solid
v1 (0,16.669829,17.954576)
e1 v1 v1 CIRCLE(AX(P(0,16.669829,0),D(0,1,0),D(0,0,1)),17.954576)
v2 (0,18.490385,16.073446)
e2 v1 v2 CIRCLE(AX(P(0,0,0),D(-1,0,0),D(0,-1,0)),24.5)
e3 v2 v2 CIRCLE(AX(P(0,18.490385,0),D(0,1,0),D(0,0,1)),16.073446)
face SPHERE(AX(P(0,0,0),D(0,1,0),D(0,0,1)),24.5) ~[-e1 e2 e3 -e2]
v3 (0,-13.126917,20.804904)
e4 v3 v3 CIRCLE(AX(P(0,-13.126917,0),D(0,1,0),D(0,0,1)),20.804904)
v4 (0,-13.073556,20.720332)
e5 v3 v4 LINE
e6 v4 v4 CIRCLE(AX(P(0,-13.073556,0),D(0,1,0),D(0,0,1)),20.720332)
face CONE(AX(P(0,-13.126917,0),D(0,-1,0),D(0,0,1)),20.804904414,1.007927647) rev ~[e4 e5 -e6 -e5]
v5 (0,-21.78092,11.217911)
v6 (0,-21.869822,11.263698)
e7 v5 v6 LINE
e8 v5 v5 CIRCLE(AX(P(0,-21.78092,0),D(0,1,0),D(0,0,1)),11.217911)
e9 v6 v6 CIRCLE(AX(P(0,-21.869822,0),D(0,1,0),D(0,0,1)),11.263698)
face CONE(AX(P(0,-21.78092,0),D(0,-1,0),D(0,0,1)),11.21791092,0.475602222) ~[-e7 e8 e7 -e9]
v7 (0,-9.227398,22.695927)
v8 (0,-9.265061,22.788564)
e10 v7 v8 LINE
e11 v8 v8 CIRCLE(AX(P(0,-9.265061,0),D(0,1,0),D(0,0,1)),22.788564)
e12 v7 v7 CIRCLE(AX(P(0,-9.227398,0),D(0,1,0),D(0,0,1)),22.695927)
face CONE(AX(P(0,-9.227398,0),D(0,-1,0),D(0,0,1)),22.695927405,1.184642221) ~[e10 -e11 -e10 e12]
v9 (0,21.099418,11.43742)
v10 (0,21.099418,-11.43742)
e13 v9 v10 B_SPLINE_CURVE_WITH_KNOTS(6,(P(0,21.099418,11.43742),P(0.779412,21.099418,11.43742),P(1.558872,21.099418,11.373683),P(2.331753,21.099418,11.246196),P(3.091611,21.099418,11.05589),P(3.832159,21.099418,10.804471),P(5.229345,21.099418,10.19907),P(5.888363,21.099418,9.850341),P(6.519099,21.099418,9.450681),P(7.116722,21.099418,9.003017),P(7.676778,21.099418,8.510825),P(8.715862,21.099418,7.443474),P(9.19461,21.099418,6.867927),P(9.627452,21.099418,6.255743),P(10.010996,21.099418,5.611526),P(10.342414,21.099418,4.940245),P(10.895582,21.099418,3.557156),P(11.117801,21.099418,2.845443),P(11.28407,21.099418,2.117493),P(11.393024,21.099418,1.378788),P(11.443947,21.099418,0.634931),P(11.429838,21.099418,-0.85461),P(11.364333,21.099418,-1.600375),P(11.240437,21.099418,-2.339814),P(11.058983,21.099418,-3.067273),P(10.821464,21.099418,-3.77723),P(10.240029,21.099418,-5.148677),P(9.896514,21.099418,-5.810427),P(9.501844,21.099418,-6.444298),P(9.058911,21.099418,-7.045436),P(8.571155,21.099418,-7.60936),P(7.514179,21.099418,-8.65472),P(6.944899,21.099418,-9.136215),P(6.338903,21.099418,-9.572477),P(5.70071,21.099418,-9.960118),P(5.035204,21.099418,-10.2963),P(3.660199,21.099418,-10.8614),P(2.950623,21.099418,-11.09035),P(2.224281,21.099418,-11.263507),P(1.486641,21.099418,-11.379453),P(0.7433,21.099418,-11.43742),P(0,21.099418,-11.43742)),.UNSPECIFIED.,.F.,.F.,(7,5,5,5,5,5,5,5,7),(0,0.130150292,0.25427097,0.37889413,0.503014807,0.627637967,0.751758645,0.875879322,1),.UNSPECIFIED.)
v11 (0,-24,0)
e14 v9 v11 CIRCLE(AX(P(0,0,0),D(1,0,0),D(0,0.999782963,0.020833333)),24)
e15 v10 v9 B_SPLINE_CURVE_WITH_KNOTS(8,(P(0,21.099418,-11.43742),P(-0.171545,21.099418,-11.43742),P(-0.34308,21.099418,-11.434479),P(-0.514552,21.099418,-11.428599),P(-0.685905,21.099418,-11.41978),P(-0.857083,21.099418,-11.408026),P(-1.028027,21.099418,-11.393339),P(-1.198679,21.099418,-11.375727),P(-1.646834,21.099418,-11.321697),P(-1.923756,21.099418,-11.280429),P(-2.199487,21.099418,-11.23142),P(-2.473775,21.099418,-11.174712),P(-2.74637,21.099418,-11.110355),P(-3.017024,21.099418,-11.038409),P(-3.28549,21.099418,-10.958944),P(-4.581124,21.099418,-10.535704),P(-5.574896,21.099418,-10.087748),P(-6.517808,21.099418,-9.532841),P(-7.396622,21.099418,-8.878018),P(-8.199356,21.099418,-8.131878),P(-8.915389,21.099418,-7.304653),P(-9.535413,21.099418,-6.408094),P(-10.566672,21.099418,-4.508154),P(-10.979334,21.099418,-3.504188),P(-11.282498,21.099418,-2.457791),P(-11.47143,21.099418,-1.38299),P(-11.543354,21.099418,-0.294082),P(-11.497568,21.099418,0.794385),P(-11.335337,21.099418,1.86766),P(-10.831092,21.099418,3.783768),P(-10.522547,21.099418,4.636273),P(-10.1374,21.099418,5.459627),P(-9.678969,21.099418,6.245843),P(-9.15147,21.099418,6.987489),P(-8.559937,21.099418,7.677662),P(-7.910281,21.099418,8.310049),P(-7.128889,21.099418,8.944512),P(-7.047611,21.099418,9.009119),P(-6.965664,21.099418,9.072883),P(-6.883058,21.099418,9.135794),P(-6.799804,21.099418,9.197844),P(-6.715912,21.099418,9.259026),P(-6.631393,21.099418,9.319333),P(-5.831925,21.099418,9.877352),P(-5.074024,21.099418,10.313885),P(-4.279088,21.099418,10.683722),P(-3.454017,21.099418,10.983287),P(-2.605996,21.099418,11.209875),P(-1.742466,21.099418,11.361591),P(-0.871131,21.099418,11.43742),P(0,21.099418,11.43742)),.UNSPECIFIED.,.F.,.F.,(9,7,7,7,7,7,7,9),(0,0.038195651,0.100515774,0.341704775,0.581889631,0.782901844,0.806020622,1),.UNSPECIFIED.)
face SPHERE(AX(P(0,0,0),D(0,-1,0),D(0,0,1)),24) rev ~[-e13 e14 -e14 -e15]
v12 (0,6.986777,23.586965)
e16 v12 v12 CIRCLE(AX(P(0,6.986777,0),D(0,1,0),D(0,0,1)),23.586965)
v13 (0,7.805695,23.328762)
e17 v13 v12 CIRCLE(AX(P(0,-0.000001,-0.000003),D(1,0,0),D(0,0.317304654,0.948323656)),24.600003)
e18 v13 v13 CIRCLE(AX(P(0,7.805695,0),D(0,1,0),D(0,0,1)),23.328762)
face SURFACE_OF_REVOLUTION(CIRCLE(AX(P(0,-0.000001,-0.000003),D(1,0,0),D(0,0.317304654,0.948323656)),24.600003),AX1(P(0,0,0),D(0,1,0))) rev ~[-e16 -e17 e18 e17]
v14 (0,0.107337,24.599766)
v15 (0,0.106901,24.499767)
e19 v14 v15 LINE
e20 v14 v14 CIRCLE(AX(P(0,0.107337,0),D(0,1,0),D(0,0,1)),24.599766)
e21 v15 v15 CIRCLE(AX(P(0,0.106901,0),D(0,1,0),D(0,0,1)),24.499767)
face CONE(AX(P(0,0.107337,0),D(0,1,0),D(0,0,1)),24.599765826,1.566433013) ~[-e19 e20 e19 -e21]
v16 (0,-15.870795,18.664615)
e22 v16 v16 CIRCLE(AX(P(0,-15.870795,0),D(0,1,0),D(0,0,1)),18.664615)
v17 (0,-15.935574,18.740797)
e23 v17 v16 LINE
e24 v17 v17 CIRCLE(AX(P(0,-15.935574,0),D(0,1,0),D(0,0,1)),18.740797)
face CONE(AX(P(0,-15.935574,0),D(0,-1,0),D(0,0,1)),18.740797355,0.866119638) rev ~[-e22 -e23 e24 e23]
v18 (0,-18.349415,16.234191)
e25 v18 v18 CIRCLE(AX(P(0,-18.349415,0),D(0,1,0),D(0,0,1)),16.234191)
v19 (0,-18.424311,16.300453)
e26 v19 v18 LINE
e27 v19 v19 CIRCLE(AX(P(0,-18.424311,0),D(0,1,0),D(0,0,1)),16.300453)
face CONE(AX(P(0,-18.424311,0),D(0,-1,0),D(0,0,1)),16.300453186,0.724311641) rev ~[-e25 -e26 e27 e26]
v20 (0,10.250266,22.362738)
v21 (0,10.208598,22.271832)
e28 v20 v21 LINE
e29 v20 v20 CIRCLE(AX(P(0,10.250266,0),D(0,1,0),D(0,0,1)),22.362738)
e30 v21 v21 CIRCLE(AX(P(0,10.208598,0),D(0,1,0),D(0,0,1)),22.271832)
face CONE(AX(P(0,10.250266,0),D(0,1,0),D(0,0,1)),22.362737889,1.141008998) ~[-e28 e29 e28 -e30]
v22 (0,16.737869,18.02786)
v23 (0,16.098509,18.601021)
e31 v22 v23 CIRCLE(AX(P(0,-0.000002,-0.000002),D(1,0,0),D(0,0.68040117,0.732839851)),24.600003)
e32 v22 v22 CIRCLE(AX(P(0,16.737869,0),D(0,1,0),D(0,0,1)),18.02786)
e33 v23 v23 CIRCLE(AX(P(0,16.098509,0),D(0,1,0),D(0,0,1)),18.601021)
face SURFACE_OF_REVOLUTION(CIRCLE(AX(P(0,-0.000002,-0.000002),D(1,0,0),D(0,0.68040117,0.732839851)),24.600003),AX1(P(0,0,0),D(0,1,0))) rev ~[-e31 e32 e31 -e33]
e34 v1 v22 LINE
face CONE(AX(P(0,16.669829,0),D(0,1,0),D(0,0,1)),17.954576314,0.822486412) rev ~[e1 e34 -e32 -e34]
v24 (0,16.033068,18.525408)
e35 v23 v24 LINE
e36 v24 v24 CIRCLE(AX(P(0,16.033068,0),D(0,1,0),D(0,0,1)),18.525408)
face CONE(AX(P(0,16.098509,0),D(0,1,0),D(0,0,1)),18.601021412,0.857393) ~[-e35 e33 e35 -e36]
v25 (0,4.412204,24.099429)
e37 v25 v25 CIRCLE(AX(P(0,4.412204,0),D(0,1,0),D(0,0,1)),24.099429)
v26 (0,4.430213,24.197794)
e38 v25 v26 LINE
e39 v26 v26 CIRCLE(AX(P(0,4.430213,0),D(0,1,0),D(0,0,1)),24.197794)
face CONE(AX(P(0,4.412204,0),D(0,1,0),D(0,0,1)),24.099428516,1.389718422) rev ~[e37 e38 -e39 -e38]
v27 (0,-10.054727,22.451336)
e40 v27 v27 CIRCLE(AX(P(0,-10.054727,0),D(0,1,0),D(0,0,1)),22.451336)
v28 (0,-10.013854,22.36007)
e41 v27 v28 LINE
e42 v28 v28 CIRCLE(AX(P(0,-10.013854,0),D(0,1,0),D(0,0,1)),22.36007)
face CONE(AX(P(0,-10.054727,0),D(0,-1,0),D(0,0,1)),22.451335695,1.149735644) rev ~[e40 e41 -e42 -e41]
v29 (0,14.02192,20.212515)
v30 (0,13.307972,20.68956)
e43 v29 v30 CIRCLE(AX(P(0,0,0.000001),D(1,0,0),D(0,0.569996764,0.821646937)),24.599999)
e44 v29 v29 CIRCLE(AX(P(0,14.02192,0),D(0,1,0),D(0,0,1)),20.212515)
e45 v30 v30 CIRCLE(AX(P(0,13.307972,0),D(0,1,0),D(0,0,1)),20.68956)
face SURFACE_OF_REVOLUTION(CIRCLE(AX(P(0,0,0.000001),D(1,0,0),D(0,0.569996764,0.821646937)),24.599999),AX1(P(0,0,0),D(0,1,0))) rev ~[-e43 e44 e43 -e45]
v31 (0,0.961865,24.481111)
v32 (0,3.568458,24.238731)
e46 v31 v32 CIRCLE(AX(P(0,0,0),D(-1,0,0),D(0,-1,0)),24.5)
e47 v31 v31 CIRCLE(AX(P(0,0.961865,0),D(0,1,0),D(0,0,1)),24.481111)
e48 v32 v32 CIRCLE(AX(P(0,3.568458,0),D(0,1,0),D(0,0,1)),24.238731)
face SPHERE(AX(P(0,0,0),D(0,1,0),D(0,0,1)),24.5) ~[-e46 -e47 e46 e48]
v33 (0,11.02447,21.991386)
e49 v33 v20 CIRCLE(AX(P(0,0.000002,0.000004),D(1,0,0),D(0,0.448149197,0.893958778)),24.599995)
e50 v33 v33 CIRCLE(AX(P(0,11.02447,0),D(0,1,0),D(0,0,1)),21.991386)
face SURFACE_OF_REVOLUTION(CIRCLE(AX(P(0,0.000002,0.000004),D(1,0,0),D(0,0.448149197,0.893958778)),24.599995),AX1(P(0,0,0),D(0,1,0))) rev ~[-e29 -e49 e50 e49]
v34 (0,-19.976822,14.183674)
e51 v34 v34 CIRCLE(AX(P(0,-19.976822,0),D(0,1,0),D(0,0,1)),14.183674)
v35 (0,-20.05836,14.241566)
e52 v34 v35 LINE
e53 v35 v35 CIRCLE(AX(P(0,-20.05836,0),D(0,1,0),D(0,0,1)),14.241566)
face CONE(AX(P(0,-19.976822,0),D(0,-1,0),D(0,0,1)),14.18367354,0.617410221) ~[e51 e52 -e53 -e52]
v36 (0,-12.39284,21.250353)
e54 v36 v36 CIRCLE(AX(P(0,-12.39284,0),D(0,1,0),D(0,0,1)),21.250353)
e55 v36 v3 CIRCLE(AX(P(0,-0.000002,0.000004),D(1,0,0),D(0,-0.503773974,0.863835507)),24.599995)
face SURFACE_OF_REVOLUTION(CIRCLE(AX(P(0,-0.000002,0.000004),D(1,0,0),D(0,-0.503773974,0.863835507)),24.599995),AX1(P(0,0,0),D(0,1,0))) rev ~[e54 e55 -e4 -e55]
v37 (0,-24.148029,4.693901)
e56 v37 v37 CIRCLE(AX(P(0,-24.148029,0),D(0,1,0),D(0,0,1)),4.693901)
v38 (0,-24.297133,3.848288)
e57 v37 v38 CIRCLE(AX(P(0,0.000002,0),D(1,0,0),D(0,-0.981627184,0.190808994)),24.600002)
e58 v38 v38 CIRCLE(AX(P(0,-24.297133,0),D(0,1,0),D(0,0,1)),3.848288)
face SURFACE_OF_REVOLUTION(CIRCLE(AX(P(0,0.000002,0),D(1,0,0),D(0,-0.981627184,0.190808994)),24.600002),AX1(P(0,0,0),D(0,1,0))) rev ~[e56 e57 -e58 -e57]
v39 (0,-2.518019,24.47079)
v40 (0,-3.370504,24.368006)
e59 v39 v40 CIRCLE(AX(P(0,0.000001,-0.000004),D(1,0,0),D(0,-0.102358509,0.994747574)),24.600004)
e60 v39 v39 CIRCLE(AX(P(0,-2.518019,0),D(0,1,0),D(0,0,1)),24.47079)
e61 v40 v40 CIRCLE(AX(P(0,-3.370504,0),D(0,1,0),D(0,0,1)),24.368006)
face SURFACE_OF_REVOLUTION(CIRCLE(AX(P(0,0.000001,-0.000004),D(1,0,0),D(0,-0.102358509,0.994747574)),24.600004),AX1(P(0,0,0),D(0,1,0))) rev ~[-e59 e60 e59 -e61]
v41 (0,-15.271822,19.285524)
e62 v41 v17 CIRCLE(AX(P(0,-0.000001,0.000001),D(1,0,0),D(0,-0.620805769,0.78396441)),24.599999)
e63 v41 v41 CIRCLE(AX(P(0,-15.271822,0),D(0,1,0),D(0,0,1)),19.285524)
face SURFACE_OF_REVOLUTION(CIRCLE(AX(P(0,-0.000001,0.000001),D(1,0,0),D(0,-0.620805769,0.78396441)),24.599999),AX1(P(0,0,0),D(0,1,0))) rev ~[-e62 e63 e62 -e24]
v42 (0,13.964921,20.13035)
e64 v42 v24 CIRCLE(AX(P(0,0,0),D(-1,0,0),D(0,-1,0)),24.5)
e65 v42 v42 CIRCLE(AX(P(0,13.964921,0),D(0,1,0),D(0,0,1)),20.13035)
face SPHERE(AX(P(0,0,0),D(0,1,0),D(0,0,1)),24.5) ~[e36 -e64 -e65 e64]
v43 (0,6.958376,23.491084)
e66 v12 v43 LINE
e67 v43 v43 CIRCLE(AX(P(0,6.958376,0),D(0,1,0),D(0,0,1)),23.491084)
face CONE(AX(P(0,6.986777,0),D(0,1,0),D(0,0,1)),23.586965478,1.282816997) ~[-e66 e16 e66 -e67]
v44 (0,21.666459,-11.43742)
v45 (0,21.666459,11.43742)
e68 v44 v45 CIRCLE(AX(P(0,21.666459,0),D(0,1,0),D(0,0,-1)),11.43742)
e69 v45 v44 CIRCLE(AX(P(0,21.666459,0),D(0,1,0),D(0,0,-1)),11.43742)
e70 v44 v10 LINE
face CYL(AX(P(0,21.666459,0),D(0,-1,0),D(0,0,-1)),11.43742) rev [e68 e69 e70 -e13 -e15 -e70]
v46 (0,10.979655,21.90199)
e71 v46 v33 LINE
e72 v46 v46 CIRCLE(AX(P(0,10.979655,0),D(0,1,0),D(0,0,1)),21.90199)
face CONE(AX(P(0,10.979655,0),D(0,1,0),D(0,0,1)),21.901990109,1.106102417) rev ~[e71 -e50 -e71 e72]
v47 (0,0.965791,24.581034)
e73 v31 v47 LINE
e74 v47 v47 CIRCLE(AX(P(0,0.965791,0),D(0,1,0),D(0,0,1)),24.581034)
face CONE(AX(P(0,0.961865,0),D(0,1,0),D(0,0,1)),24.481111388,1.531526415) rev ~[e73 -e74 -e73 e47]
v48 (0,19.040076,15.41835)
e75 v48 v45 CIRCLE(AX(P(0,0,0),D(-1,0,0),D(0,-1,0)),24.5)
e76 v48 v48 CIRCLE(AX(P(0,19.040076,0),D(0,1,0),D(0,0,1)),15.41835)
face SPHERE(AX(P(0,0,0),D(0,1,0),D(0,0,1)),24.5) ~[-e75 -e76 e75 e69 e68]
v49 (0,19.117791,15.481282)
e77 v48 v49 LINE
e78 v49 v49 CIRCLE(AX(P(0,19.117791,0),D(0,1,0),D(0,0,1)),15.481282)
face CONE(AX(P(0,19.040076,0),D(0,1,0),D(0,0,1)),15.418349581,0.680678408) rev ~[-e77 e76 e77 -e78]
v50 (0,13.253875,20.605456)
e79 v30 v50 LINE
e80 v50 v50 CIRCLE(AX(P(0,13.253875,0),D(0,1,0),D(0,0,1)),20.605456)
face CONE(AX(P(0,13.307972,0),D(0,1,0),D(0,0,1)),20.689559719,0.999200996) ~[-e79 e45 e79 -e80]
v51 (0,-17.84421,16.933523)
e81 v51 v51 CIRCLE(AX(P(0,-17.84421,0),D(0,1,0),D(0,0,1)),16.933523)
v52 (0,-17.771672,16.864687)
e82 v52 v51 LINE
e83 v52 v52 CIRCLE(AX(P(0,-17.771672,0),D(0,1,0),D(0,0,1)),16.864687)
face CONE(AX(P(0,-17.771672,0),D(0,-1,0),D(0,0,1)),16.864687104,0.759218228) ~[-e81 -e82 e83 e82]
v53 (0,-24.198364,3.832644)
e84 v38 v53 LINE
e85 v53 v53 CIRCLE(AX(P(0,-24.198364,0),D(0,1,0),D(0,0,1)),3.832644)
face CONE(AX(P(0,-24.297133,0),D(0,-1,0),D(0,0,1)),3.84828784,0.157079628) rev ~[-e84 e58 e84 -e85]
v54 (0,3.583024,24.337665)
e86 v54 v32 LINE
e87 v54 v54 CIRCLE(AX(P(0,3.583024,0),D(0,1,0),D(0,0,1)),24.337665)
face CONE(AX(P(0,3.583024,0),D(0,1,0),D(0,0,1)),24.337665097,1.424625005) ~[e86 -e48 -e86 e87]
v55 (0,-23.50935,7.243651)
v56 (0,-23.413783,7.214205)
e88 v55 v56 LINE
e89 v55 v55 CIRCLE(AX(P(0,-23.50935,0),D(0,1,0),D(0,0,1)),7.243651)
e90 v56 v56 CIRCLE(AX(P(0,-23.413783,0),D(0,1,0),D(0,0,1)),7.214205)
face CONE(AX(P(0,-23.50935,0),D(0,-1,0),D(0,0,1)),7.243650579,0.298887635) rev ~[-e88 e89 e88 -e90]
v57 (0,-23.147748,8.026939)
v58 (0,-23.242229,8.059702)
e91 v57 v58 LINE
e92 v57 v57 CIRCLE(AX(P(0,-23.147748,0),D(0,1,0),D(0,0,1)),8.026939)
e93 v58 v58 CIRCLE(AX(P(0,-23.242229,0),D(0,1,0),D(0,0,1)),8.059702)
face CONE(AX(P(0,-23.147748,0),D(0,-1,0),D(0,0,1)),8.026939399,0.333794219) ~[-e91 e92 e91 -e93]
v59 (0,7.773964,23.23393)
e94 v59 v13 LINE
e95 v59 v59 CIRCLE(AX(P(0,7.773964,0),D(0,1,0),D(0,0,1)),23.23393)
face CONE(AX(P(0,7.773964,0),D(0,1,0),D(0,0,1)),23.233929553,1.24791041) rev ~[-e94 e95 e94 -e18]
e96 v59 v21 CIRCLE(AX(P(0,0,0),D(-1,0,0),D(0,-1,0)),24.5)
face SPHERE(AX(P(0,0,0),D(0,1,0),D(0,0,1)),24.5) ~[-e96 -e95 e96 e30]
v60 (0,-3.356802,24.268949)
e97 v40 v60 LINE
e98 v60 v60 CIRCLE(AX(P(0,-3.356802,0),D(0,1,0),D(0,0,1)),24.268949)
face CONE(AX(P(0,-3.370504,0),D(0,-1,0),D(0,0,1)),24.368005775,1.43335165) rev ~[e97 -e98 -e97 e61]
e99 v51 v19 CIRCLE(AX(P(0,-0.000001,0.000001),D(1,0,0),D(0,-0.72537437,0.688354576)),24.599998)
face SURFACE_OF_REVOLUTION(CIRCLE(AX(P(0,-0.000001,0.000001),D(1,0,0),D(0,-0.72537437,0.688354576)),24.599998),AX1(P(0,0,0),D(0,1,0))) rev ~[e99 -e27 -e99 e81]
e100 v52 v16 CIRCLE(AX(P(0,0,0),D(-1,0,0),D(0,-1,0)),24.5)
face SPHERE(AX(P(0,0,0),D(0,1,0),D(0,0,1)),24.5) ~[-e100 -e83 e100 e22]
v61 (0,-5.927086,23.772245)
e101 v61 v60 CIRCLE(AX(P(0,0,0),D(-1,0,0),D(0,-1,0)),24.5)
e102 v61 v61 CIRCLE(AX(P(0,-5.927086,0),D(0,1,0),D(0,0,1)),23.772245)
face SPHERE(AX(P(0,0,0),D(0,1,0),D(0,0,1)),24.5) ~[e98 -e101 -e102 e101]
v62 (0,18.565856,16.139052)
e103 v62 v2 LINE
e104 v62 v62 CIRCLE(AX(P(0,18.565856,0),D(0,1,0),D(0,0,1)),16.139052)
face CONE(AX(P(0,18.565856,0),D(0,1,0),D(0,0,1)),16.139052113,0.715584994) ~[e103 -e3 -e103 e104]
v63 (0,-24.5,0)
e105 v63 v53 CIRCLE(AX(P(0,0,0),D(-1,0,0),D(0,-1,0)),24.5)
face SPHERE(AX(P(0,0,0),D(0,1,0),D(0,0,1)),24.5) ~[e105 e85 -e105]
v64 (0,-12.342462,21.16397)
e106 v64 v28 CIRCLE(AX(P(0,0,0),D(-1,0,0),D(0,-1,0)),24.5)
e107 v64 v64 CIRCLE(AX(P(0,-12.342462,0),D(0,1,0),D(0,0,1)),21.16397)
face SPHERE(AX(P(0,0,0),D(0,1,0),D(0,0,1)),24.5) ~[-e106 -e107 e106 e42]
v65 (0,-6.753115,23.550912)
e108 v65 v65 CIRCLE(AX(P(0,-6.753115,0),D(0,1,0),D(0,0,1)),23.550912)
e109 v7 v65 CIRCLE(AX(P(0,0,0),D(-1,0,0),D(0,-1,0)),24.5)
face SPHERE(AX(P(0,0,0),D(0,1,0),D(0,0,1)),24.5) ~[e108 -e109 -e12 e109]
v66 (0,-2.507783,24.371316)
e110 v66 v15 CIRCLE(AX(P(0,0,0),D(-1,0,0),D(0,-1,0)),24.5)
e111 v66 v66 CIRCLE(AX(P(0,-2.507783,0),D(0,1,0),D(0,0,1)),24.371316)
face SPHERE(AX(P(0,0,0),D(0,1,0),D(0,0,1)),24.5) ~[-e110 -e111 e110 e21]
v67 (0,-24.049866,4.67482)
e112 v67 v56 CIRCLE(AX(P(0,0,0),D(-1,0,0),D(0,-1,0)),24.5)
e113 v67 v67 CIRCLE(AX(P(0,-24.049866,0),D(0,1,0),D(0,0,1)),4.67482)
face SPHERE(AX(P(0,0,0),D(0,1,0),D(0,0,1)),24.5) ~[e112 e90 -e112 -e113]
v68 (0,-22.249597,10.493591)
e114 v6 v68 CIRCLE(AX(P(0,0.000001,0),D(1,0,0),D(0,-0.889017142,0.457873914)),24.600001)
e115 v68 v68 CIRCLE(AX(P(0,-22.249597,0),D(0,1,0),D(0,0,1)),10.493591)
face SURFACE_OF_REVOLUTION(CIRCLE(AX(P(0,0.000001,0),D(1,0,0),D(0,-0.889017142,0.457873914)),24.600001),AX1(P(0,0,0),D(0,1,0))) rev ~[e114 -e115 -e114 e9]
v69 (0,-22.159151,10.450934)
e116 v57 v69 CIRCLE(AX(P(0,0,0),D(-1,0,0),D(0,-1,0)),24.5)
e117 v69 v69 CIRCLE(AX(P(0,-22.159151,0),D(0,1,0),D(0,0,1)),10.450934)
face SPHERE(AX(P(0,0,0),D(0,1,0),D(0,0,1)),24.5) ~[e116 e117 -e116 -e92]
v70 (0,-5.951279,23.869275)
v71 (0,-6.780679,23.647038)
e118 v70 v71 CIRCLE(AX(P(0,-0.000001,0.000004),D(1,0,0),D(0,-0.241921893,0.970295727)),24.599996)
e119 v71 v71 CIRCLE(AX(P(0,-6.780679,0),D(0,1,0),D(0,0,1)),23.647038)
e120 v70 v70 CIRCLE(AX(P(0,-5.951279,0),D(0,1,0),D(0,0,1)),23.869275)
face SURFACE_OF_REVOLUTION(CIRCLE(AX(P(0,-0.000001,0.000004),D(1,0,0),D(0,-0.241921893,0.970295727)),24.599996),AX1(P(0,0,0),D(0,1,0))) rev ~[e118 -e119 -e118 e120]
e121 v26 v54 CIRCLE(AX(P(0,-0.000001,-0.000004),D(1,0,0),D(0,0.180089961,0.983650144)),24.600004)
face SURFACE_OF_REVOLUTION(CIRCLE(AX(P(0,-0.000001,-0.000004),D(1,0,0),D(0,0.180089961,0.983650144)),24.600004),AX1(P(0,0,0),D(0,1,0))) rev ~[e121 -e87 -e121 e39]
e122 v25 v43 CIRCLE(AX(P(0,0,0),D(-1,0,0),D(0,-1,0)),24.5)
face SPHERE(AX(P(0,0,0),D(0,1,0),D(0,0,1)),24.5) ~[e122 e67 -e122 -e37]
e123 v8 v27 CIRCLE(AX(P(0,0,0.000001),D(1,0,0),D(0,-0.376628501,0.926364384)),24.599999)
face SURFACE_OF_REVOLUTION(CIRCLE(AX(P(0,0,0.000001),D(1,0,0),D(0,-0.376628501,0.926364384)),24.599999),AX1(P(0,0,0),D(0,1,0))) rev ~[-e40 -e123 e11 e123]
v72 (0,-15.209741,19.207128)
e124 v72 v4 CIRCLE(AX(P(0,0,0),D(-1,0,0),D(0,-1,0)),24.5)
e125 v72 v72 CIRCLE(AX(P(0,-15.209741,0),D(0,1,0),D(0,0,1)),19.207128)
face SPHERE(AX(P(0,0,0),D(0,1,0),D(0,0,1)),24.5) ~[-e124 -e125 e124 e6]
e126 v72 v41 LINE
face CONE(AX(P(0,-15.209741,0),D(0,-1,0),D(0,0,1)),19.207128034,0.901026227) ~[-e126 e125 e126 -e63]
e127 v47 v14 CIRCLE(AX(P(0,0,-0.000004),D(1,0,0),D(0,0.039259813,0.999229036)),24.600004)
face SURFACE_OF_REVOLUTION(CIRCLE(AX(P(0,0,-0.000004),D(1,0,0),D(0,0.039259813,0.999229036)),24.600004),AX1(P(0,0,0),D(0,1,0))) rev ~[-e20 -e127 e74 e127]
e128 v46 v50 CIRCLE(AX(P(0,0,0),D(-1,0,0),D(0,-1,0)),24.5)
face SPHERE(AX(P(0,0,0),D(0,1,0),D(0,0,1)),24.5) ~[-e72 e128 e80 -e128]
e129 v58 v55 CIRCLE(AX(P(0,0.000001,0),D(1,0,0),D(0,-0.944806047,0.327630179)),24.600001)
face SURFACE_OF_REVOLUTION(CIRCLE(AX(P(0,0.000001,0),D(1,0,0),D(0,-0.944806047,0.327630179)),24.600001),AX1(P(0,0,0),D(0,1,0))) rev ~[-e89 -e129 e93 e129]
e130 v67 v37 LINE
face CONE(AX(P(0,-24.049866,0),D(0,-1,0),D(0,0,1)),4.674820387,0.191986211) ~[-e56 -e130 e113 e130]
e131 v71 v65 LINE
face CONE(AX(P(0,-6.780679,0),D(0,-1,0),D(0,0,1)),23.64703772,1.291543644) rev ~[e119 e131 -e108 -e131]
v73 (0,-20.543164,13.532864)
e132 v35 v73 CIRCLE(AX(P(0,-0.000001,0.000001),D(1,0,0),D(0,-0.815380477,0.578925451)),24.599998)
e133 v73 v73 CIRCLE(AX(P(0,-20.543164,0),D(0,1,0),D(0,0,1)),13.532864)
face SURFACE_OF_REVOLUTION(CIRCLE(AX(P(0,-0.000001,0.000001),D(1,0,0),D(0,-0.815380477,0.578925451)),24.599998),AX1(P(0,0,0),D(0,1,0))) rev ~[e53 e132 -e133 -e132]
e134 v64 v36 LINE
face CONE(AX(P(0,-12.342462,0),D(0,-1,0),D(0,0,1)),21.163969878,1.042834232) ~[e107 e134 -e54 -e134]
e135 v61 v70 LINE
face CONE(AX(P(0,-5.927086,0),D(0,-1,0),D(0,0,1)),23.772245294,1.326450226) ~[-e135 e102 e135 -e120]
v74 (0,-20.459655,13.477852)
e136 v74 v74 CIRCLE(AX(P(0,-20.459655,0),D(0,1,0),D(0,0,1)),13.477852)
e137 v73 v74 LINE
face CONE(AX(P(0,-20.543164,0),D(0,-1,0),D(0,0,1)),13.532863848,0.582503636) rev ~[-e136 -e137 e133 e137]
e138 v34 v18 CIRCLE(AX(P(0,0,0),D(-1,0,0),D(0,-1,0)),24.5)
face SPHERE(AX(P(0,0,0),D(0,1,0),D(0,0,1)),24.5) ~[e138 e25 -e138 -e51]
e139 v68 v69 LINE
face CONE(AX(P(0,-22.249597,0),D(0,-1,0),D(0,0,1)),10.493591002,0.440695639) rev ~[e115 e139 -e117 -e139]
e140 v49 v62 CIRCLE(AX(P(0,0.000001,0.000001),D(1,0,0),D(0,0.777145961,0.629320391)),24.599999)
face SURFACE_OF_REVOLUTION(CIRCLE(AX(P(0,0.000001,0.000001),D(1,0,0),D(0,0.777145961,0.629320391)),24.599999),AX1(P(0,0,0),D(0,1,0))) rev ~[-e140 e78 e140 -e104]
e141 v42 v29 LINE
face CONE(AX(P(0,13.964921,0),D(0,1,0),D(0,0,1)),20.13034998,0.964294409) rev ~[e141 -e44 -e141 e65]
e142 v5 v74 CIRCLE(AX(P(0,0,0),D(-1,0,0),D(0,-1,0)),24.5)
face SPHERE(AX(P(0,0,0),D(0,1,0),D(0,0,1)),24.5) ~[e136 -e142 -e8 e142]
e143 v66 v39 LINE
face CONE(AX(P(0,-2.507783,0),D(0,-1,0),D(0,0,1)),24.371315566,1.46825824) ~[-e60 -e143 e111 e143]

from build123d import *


with BuildPart() as part:
    # Croquis1 → Revolución1 (revolve)
    with BuildSketch(Plane(origin=(0, 0, 0), x_dir=(0, 0, -1), z_dir=(1, 0, 0))):
        with BuildLine():
            Line((-0.5, 24.494897428), (-0.5, 23.994791101))
            ThreePointArc((-0.5, 23.994791101), (-23.99869774, -0.250013566), (0, -24))
            Line((0, -24), (0, -24.5))
            ThreePointArc((0, -24.5), (-24.498724324, -0.250013018), (-0.5, 24.494897428))
        make_face()
    revolve(axis=Axis((0, 20.75, 0), (0, -1, 0)))

    # Croquis2 → Cortar-Revolución1 (revolve, cut)
    with BuildSketch(Plane(origin=(0, 0, 0), x_dir=(0, 0, -1), z_dir=(1, 0, 0))):
        with BuildLine():
            Line((0, 13.612081927), (0, 24.5))
            ThreePointArc((0, 24.5), (5.891594158, 23.781066382), (11.437419735, 21.666458635))
            Line((11.437419735, 21.666458635), (11.437419735, 13.612081927))
            Line((11.437419735, 13.612081927), (0, 13.612081927))
        make_face()
    revolve(axis=Axis((0, 0, 0), (0, 1, 0)), mode=Mode.SUBTRACT)

    # Croquis3 → Revolución2 (revolve)
    with BuildSketch(Plane(origin=(0, 0, 0), x_dir=(0, 0, -1), z_dir=(1, 0, 0))):
        with BuildLine():
            Line((-15.418349581, 19.040076056), (-15.48128162, 19.117790652))
            ThreePointArc((-15.48128162, 19.117790652), (-15.812575198, 18.844693301), (-16.139052113, 18.565855673))
            Line((-16.139052113, 18.565855673), (-16.07344621, 18.490384715))
            ThreePointArc((-16.07344621, 18.490384715), (-15.748296437, 18.768088856), (-15.418349581, 19.040076056))
        make_face()
        with BuildLine():
            Line((-17.954576314, 16.669828715), (-18.027860299, 16.737868832))
            ThreePointArc((-18.027860299, 16.737868832), (-18.317230658, 16.420690028), (-18.601021412, 16.098509323))
            Line((-18.601021412, 16.098509323), (-18.525407504, 16.033068229))
            ThreePointArc((-18.525407504, 16.033068229), (-18.242770371, 16.353939256), (-17.954576314, 16.669828715))
        make_face()
        with BuildLine():
            Line((-20.13034998, 13.964920684), (-20.212514673, 14.02192036))
            ThreePointArc((-20.212514673, 14.02192036), (-20.454152463, 13.667027732), (-20.689559719, 13.307971996))
            Line((-20.689559719, 13.307971996), (-20.605455818, 13.253874549))
            ThreePointArc((-20.605455818, 13.253874549), (-20.371005501, 13.611470709), (-20.13034998, 13.964920684))
        make_face()
        with BuildLine():
            Line((-21.901990109, 10.979655243), (-21.991385987, 11.024470162))
            ThreePointArc((-21.991385987, 11.024470162), (-22.180440127, 10.638988476), (-22.362737889, 10.25026605))
            Line((-22.362737889, 10.25026605), (-22.271832451, 10.208598302))
            ThreePointArc((-22.271832451, 10.208598302), (-22.090275736, 10.595740555), (-21.901990109, 10.979655243))
        make_face()
        with BuildLine():
            Line((-23.233929553, 7.773964082), (-23.328761918, 7.805694548))
            ThreePointArc((-23.328761918, 7.805694548), (-23.461436988, 7.397362668), (-23.586965478, 6.98677748))
            Line((-23.586965478, 6.98677748), (-23.491083504, 6.958375945))
            ThreePointArc((-23.491083504, 6.958375945), (-23.366065293, 7.367292088), (-23.233929553, 7.773964082))
        make_face()
        with BuildLine():
            Line((-24.099428516, 4.41220412), (-24.197793531, 4.430213116))
            ThreePointArc((-24.197793531, 4.430213116), (-24.271425969, 4.007228646), (-24.337665097, 3.583023534))
            Line((-24.337665097, 3.583023534), (-24.238731499, 3.568458398))
            ThreePointArc((-24.238731499, 3.568458398), (-24.172761636, 3.990939098), (-24.099428516, 4.41220412))
        make_face()
        with BuildLine():
            Line((-24.481111388, 0.961865486), (-24.581034292, 0.965791468))
            ThreePointArc((-24.581034292, 0.965791468), (-24.594145866, 0.536646172), (-24.599765826, 0.107337408))
            Line((-24.599765826, 0.107337408), (-24.499766778, 0.106901078))
            ThreePointArc((-24.499766778, 0.106901078), (-24.494169663, 0.534464683), (-24.481111388, 0.961865486))
        make_face()
        with BuildLine():
            Line((-24.371315566, -2.507783398), (-24.470790324, -2.518019248))
            ThreePointArc((-24.470790324, -2.518019248), (-24.423117808, -2.94470992), (-24.368005775, -3.370503605))
            Line((-24.368005775, -3.370503605), (-24.268948841, -3.356802371))
            ThreePointArc((-24.268948841, -3.356802371), (-24.323836842, -2.932739555), (-24.371315566, -2.507783398))
        make_face()
        with BuildLine():
            Line((-23.772245294, -5.927086442), (-23.869274866, -5.951278632))
            ThreePointArc((-23.869274866, -5.951278632), (-23.761775327, -6.36694851), (-23.64703772, -6.780678953))
            Line((-23.64703772, -6.780678953), (-23.55091155, -6.753115217))
            ThreePointArc((-23.55091155, -6.753115217), (-23.665182744, -6.341066605), (-23.772245294, -5.927086442))
        make_face()
        with BuildLine():
            Line((-22.695927405, -9.227398291), (-22.788563843, -9.265061142))
            ThreePointArc((-22.788563843, -9.265061142), (-22.623395422, -9.661365306), (-22.451335695, -10.054726525))
            Line((-22.451335695, -10.054726525), (-22.360070103, -10.013853653))
            ThreePointArc((-22.360070103, -10.013853653), (-22.5314304, -9.622091464), (-22.695927405, -9.227398291))
        make_face()
        with BuildLine():
            Line((-21.163969878, -12.342462438), (-21.250353428, -12.392839835))
            ThreePointArc((-21.250353428, -12.392839835), (-21.030832019, -12.761822151), (-20.804904414, -13.126917091))
            Line((-20.804904414, -13.126917091), (-20.720331632, -13.07355564))
            ThreePointArc((-20.720331632, -13.07355564), (-20.945340831, -12.709944825), (-21.163969878, -12.342462438))
        make_face()
        with BuildLine():
            Line((-19.207128034, -15.209741374), (-19.285524475, -15.271821951))
            ThreePointArc((-19.285524475, -15.271821951), (-19.016057153, -15.60607479), (-18.740797355, -15.935573868))
            Line((-18.740797355, -15.935573868), (-18.664615252, -15.870795112))
            ThreePointArc((-18.664615252, -15.870795112), (-18.938756107, -15.542635462), (-19.207128034, -15.209741374))
        make_face()
        with BuildLine():
            Line((-16.864687104, -17.77167209), (-16.933522562, -17.844209527))
            ThreePointArc((-16.933522562, -17.844209527), (-16.619519107, -18.137022486), (-16.300453186, -18.424310731))
            Line((-16.300453186, -18.424310731), (-16.234191181, -18.349415159))
            ThreePointArc((-16.234191181, -18.349415159), (-16.551960087, -18.063294752), (-16.864687104, -17.77167209))
        make_face()
        with BuildLine():
            Line((-14.18367354, -19.976821692), (-14.241566085, -20.05835974))
            ThreePointArc((-14.241566085, -20.05835974), (-13.889330379, -20.303854354), (-13.532863848, -20.543164217))
            Line((-13.532863848, -20.543164217), (-13.477852207, -20.45965542))
            ThreePointArc((-13.477852207, -20.45965542), (-13.832869686, -20.221318361), (-14.18367354, -19.976821692))
        make_face()
        with BuildLine():
            Line((-11.21791092, -21.780919966), (-11.263698312, -21.869821681))
            ThreePointArc((-11.263698312, -21.869821681), (-10.880301779, -22.063069442), (-10.493591002, -22.249596578))
            Line((-10.493591002, -22.249596578), (-10.450934128, -22.159151064))
            ThreePointArc((-10.450934128, -22.159151064), (-10.83607291, -21.973382168), (-11.21791092, -21.780919966))
        make_face()
        with BuildLine():
            Line((-8.026939399, -23.147748138), (-8.059702417, -23.242228743))
            ThreePointArc((-8.059702417, -23.242228743), (-7.652842063, -23.379350041), (-7.243650579, -23.509349763))
            Line((-7.243650579, -23.509349763), (-7.214204845, -23.413783301))
            ThreePointArc((-7.214204845, -23.413783301), (-7.621732949, -23.284312033), (-8.026939399, -23.147748138))
        make_face()
        with BuildLine():
            Line((-4.674820387, -24.049865994), (-4.693901286, -24.148028713))
            ThreePointArc((-4.693901286, -24.148028713), (-4.271745171, -24.226270724), (-3.84828784, -24.297133179))
            Line((-3.84828784, -24.297133179), (-3.832644394, -24.198364345))
            ThreePointArc((-3.832644394, -24.198364345), (-4.254380353, -24.127789949), (-4.674820387, -24.049865994))
        make_face()
    revolve(axis=Axis((0, 0, 0), (0, 1, 0)))


solid = part.part
